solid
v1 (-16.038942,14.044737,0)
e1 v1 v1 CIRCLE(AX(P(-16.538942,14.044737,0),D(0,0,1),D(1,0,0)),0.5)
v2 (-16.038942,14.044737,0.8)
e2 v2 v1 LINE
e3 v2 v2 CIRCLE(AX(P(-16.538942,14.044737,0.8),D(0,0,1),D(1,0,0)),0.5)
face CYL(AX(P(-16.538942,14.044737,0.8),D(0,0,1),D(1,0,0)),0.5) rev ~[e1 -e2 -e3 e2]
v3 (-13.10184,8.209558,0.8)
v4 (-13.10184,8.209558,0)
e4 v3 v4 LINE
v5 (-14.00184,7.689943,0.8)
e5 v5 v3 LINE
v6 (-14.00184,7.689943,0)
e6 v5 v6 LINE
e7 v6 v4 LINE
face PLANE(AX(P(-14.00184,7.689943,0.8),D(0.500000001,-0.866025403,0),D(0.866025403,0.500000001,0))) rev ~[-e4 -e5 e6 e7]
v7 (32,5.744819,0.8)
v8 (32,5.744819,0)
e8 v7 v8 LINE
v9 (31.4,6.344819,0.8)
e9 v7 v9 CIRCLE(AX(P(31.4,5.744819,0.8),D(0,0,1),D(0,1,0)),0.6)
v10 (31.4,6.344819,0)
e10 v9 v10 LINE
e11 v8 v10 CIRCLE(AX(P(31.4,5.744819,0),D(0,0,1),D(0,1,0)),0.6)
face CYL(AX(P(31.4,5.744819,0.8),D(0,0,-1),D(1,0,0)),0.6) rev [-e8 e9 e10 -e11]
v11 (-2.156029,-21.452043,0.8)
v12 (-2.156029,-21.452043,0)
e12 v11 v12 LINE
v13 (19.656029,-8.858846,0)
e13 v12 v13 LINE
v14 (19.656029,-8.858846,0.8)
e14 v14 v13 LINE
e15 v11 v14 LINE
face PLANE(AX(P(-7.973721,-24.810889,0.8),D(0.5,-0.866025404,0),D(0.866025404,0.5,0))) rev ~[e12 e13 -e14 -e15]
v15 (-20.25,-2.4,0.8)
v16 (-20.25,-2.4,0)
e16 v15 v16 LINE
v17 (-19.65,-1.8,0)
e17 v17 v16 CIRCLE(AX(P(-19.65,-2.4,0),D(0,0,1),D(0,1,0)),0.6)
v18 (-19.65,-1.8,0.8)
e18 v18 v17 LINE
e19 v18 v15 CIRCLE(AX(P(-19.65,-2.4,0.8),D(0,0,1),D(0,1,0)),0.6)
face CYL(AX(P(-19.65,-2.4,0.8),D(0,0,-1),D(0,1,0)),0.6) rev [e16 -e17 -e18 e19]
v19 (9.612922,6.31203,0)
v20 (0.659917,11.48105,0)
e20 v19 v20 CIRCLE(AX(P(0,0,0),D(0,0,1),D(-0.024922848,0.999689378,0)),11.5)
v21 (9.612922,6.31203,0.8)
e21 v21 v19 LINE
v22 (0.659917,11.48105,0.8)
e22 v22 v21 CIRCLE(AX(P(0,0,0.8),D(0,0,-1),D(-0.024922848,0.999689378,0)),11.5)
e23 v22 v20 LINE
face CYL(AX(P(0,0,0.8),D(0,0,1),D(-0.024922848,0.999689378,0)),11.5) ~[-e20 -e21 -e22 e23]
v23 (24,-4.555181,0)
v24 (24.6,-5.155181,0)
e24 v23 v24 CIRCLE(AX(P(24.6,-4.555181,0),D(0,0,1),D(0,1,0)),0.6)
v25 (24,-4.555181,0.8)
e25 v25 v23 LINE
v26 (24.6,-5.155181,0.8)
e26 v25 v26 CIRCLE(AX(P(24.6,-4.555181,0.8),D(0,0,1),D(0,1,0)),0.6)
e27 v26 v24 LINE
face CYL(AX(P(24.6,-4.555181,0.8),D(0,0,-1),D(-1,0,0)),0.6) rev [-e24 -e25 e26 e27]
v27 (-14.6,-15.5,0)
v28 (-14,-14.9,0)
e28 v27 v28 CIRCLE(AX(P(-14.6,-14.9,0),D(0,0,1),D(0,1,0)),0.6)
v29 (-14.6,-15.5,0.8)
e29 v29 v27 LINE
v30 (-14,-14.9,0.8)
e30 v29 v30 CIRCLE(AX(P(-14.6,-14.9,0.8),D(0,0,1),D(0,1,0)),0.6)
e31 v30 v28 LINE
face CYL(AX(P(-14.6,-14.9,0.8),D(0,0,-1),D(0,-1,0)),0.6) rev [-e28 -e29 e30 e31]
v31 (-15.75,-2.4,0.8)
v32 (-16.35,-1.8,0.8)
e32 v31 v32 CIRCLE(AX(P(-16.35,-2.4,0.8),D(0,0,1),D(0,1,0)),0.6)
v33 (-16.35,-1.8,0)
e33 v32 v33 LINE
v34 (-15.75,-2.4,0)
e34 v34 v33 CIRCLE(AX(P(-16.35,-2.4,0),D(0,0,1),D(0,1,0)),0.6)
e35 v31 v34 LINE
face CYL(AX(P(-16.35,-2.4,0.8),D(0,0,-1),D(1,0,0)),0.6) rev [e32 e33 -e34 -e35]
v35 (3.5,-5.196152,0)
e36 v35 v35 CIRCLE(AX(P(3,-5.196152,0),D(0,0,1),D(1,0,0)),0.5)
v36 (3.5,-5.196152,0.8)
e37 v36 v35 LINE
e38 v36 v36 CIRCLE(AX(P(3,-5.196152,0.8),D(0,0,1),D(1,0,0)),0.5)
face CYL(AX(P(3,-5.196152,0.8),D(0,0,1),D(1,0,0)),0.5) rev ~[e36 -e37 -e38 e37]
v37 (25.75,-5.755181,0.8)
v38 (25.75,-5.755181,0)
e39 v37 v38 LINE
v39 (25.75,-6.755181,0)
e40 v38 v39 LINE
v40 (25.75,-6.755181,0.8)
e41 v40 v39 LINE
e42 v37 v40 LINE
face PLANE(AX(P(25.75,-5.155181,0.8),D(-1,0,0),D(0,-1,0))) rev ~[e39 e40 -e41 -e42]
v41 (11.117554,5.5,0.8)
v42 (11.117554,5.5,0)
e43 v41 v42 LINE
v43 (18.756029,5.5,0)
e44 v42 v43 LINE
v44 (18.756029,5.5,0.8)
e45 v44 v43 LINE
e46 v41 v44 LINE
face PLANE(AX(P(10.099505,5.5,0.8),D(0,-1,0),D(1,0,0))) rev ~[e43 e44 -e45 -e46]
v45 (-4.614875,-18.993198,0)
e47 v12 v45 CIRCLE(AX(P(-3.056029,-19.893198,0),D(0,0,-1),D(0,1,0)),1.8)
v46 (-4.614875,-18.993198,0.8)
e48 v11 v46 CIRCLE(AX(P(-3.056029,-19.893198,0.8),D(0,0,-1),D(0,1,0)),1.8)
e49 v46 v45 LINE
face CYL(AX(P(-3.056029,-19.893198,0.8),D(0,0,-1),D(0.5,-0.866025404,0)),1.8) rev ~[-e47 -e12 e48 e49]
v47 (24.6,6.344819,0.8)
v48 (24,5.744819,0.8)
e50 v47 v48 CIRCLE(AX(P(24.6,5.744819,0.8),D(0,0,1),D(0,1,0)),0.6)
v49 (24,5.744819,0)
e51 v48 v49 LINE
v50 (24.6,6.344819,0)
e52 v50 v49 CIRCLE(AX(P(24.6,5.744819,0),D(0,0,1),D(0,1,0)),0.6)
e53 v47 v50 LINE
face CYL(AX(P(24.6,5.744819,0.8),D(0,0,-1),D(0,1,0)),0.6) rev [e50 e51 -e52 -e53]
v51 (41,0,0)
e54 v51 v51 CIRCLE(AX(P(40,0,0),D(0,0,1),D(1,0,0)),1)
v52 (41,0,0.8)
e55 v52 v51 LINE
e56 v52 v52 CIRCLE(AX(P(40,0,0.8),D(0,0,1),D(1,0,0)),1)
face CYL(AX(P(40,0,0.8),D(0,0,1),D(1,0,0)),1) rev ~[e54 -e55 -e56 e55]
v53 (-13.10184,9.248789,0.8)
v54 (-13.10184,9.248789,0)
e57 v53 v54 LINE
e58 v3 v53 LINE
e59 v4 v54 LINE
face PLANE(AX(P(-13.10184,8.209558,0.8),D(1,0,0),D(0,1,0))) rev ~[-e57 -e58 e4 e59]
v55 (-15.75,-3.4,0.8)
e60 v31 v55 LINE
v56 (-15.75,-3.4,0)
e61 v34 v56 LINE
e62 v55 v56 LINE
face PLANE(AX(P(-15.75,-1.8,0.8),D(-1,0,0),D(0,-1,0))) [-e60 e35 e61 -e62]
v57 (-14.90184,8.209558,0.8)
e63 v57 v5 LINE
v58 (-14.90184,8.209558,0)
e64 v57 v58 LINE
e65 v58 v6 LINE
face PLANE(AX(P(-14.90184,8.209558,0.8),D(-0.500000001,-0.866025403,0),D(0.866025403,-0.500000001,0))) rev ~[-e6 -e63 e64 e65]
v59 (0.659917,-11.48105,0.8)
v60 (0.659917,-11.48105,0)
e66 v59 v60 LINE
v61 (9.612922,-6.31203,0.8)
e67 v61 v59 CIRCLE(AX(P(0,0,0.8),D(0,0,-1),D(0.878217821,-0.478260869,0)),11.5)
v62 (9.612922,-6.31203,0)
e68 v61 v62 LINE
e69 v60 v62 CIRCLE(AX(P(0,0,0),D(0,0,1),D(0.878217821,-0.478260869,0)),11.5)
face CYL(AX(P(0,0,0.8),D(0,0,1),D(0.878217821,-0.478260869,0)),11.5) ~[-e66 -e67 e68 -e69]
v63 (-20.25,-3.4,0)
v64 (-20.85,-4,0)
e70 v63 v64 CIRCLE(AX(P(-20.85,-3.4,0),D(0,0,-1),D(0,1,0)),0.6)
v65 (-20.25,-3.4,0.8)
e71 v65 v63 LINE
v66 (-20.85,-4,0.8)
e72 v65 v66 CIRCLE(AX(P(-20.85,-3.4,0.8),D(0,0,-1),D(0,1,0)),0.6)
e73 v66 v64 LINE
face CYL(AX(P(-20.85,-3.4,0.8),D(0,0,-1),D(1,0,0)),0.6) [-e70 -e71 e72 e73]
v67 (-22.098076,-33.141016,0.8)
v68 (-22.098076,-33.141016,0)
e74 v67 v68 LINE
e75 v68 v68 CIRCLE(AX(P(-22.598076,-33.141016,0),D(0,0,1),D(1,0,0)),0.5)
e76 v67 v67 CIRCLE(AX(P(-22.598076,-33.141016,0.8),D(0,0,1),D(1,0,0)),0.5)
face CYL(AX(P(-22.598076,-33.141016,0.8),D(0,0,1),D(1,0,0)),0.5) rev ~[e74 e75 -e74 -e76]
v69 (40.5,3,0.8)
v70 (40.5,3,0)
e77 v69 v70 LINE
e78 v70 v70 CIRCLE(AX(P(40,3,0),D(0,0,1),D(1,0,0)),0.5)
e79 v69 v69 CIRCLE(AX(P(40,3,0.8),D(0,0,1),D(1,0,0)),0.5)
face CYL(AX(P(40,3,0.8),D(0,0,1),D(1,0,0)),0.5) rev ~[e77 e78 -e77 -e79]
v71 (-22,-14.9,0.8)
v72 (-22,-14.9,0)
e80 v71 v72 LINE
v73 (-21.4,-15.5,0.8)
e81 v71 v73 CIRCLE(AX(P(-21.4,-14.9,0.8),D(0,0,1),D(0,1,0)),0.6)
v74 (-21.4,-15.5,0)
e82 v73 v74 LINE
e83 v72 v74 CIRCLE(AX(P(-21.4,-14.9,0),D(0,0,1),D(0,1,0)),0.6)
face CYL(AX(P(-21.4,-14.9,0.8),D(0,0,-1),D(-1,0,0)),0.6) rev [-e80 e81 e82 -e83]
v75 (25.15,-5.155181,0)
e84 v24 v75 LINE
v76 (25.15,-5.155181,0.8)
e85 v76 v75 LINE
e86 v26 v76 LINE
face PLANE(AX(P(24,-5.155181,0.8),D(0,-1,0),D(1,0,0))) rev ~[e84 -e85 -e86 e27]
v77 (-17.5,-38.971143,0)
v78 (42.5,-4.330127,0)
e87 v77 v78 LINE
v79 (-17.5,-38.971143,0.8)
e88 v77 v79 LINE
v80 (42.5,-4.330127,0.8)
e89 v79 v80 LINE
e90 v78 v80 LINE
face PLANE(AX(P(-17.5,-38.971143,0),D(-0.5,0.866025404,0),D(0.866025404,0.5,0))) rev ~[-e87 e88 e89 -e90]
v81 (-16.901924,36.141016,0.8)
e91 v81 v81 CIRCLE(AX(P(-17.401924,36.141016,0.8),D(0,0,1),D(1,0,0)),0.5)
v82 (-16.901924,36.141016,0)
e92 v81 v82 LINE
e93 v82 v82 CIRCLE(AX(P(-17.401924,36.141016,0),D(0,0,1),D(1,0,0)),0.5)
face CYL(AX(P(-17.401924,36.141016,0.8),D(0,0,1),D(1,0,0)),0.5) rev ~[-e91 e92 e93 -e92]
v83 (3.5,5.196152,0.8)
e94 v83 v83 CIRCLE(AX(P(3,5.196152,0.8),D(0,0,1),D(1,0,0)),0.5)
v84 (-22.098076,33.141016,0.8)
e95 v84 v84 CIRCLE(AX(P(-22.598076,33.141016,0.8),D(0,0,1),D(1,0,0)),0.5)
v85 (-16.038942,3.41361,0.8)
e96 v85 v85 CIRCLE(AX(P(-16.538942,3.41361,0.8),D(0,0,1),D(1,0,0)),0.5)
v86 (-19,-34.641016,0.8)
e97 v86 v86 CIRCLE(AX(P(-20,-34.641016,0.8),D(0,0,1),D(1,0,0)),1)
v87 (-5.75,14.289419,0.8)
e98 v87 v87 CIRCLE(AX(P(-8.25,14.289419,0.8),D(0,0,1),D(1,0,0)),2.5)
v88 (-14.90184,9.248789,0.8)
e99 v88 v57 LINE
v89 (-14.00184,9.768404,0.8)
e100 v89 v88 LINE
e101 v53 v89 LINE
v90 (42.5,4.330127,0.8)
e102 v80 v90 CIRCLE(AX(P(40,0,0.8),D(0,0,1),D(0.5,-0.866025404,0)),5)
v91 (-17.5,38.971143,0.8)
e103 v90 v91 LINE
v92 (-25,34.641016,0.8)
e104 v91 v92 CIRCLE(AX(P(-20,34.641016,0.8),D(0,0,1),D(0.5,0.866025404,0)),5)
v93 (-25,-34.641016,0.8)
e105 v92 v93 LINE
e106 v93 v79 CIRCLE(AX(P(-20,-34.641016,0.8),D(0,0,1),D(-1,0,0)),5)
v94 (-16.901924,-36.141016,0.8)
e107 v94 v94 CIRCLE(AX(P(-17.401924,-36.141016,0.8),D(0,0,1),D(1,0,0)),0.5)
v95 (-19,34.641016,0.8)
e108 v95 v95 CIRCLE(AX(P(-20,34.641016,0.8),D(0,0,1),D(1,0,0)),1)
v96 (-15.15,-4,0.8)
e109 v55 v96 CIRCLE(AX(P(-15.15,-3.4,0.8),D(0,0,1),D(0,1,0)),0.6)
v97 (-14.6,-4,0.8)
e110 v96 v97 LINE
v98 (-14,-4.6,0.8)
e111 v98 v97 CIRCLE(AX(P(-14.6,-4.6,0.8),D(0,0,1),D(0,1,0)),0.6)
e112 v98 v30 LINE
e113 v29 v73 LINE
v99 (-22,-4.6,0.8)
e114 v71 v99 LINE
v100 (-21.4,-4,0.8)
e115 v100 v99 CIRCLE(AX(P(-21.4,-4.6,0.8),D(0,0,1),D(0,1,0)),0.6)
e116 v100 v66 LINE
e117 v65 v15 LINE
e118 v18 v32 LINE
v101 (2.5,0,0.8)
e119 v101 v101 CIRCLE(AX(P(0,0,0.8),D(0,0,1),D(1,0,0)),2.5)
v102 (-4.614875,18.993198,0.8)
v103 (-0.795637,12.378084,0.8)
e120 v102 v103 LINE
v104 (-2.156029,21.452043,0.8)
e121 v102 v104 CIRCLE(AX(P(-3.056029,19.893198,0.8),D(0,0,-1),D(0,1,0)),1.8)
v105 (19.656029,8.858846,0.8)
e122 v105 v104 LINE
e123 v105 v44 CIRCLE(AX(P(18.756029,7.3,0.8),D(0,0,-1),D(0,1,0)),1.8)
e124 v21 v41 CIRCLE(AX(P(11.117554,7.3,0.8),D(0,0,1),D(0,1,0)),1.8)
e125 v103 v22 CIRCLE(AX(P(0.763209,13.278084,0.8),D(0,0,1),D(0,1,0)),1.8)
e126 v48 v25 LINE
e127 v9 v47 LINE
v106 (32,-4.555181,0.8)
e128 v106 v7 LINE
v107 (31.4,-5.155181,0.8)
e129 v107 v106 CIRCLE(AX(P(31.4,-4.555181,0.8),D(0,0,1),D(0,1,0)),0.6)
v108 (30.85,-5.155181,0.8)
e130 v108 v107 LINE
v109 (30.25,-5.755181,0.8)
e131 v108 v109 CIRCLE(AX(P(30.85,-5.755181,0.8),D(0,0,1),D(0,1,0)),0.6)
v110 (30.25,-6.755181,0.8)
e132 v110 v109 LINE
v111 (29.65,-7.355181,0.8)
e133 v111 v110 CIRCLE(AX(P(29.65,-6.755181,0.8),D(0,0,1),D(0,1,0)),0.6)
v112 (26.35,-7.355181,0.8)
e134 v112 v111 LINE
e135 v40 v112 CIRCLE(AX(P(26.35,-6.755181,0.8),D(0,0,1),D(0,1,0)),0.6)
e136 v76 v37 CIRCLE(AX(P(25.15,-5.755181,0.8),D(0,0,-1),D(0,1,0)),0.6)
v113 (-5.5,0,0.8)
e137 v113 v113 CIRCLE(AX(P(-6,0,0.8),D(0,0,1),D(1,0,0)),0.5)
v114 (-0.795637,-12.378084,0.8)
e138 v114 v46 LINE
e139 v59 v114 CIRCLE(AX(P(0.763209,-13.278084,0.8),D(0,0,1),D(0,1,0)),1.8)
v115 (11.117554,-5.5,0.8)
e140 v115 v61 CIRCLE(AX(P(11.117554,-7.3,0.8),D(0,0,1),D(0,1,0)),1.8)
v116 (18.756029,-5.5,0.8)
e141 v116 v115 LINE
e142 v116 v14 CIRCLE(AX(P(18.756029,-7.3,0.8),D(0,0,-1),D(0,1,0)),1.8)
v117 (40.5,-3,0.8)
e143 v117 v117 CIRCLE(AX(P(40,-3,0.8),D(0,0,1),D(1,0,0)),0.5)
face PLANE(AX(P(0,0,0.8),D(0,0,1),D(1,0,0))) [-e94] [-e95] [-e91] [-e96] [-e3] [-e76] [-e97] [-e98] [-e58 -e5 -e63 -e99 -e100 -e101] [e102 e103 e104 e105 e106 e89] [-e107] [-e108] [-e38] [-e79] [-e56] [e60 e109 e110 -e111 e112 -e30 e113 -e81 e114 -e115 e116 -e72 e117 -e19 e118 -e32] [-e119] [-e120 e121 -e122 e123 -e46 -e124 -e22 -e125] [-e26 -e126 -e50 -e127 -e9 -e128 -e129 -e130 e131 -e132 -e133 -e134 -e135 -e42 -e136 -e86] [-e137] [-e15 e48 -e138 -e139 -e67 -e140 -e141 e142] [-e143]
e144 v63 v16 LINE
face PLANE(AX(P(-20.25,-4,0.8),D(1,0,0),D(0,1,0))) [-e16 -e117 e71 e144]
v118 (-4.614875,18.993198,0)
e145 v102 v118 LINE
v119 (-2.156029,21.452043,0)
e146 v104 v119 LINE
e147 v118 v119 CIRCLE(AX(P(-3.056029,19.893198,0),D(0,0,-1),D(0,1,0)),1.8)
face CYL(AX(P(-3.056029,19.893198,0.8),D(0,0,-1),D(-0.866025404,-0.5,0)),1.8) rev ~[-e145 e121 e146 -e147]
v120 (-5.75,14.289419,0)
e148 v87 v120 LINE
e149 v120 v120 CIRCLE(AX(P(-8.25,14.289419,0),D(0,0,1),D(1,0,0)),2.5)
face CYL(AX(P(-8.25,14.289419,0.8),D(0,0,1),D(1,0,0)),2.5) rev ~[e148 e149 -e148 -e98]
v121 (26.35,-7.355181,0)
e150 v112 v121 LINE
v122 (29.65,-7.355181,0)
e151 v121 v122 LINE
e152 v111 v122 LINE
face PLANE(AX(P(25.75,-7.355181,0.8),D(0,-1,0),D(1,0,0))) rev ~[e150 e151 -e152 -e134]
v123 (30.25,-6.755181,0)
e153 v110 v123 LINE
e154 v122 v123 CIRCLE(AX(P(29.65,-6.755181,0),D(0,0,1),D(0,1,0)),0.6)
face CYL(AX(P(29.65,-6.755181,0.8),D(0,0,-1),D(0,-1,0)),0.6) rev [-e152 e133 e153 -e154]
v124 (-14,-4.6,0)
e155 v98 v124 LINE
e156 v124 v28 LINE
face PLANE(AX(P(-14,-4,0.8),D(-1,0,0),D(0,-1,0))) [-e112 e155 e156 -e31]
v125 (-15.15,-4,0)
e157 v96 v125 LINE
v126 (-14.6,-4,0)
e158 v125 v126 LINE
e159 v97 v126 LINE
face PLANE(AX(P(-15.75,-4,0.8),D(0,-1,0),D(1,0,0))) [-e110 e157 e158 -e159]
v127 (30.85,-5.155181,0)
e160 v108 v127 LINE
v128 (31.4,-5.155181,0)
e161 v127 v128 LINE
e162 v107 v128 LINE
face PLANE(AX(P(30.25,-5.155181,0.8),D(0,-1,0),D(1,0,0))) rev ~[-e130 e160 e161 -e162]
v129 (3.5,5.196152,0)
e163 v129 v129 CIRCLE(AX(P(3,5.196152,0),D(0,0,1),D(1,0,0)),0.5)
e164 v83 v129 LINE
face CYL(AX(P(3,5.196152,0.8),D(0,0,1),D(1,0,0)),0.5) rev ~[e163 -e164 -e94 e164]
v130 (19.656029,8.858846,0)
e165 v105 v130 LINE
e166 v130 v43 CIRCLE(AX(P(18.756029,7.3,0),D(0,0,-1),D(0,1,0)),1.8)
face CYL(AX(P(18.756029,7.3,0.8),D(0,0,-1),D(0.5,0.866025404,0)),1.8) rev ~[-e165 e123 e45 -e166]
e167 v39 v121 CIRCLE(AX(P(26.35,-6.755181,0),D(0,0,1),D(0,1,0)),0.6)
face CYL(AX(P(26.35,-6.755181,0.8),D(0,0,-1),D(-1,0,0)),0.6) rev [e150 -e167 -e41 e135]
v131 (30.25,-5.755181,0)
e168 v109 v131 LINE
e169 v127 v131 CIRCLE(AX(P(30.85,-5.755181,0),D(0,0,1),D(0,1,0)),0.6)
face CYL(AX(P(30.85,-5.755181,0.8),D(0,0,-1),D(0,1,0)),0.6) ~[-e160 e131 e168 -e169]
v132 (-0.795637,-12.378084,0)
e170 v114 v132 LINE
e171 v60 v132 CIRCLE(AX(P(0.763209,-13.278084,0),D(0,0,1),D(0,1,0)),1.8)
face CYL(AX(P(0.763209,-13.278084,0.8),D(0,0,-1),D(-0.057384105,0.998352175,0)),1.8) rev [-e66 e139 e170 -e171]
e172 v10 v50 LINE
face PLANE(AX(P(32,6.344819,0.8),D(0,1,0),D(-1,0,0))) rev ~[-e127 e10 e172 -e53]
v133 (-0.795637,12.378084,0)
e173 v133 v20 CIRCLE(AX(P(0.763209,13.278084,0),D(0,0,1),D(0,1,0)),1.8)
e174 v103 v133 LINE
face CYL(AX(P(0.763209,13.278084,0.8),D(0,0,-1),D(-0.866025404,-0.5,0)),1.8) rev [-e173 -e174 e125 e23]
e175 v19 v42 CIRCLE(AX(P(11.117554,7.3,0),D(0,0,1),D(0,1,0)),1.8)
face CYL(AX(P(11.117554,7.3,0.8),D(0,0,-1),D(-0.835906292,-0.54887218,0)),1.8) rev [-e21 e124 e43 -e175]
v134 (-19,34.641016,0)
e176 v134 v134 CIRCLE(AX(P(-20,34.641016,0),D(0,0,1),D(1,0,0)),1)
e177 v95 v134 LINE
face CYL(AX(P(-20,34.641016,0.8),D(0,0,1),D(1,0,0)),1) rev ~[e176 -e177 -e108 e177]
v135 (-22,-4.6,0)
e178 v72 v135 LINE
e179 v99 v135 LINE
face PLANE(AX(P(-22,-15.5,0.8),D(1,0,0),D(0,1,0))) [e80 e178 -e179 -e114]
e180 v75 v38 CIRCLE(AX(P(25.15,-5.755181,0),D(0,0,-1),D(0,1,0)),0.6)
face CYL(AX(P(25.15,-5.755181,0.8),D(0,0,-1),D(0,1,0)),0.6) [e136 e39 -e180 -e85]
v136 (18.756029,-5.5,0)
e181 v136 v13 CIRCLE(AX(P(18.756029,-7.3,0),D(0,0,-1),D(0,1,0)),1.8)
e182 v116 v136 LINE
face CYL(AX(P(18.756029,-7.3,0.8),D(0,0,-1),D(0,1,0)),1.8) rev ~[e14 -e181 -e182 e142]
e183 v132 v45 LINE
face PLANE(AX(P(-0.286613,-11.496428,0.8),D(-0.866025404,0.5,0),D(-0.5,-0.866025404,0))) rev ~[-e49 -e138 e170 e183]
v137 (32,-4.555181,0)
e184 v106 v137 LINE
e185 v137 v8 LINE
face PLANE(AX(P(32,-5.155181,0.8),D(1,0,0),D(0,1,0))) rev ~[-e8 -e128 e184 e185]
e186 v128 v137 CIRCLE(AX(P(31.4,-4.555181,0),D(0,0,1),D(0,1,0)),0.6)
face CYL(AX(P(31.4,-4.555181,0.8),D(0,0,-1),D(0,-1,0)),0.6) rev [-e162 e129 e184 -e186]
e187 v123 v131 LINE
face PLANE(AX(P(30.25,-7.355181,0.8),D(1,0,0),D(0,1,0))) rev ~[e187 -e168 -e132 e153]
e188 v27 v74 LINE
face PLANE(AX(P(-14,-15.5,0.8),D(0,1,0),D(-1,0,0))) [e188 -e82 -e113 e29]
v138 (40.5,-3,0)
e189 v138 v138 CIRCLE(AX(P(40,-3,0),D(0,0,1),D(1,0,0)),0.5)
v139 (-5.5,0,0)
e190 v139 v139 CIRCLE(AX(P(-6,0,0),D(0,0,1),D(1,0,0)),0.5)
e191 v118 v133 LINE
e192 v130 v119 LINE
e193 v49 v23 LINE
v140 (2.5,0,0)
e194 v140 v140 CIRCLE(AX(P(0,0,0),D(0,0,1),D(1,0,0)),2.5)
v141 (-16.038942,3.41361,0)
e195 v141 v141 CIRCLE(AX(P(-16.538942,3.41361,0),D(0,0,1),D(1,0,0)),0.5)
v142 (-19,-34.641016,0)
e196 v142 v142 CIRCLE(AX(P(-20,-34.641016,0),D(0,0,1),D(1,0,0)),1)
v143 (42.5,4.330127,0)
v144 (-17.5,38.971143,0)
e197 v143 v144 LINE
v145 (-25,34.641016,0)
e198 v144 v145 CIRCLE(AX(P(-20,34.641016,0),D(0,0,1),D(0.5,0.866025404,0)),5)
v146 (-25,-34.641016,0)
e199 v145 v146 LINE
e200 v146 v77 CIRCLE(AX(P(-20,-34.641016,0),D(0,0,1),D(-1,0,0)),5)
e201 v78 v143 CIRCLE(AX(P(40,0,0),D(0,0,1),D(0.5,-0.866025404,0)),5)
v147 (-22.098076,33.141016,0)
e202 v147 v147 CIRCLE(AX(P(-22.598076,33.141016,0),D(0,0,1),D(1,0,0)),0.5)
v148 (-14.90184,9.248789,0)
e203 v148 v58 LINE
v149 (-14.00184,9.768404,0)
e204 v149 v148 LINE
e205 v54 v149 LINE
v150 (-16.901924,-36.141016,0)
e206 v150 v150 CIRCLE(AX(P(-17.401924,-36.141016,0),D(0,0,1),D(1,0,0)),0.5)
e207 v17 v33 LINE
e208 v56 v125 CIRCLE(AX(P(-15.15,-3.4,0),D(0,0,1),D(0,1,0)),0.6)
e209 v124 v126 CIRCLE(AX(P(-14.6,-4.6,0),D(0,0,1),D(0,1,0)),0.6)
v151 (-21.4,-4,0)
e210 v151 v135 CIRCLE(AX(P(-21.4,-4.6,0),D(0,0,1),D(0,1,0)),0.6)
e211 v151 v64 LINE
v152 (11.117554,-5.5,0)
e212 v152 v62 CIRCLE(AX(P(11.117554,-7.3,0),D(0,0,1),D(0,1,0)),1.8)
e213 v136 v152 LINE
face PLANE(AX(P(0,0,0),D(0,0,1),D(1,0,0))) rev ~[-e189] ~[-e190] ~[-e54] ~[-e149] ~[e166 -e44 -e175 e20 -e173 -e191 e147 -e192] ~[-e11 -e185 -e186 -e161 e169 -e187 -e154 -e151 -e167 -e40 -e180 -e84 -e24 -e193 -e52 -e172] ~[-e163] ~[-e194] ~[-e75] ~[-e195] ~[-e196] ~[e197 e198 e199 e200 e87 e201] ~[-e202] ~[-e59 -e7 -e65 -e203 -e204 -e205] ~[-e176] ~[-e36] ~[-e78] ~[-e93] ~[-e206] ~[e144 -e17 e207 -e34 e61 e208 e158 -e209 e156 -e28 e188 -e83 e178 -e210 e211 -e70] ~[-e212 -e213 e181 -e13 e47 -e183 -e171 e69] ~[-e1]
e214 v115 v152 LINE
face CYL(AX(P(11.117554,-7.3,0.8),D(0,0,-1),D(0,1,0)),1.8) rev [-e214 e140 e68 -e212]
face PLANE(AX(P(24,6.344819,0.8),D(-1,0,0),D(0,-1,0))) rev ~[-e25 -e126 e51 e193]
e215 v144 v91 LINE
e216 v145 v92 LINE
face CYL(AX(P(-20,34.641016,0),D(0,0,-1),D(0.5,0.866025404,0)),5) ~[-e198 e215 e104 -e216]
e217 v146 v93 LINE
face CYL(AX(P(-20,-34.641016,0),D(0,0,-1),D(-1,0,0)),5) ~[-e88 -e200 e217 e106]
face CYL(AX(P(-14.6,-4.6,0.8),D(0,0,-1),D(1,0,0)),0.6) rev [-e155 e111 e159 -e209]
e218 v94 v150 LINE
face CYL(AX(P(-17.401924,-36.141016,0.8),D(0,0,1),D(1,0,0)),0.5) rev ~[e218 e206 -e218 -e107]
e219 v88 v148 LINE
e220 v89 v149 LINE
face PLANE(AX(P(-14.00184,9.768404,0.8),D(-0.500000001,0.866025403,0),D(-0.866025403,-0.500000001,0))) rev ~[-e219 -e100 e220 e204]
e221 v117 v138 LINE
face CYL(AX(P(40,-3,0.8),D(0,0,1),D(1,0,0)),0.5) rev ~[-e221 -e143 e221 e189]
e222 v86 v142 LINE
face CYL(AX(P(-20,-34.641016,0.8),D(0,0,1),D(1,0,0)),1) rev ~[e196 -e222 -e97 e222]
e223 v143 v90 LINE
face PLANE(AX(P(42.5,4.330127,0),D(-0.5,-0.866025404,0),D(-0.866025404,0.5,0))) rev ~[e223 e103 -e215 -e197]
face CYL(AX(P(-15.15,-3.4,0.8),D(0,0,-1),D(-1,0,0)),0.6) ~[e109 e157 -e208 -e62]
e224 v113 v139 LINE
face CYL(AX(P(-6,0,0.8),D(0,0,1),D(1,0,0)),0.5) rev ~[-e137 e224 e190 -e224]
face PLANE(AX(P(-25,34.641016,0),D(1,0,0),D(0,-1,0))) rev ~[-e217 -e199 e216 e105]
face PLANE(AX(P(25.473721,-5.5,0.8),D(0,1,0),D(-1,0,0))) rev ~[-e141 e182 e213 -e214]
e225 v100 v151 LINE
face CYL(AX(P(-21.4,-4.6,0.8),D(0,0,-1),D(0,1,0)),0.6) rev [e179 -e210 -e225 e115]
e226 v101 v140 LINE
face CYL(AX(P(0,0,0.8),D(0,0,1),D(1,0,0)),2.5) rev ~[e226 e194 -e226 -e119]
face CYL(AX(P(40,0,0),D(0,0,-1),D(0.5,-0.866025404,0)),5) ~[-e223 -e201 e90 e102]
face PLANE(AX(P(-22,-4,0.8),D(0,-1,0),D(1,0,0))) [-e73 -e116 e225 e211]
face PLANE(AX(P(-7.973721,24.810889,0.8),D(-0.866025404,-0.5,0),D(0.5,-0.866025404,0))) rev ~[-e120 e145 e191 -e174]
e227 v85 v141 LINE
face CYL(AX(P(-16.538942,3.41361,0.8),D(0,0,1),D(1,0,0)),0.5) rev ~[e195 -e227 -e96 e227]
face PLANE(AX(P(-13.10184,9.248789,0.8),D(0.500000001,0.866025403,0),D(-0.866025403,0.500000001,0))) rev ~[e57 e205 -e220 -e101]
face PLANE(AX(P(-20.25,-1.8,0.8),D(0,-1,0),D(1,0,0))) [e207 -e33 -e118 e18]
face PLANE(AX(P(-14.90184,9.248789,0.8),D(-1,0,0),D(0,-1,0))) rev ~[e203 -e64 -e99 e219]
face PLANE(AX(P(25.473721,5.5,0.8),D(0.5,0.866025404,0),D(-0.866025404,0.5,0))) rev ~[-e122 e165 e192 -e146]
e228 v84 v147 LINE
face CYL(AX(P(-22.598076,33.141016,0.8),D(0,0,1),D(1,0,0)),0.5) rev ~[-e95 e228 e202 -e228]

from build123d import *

# Parameters (mm, degrees)
BOARD_DEPTH    = 0.8
CUT_DEPTH      = 60.975412975
HOLESSKE_R     = 0.5
HOLESSKE_R_2   = 2.5
HOLES_DEPTH    = 60.975412975
HOLES2SKE_R    = 1
HOLES2_DEPTH   = 60.975412975
HOLES3SKE_R    = 0.5
HOLES3_DEPTH   = 60.975412975
HOLES4SKE_R    = 2.5
HOLES4SKE_R_2  = 0.5
HOLES4_DEPTH   = 60.975412975
FILLET1_R      = 1.8
SERVOSET_DEPTH = 10
FILLET2_R      = 0.6


with BuildPart() as part:
    # BoardSke → Board (new body)
    with BuildSketch(Plane.XY):
        with BuildLine():
            Line((42.5, 4.330127019), (-17.5, 38.97114317))
            ThreePointArc((-17.5, 38.97114317), (-22.5, 38.97114317), (-25, 34.641016151))
            Line((-25, 34.641016151), (-25, -34.641016151))
            ThreePointArc((-25, -34.641016151), (-22.5, -38.97114317), (-17.5, -38.97114317))
            Line((-17.5, -38.97114317), (42.5, -4.330127019))
            ThreePointArc((42.5, -4.330127019), (45, 0), (42.5, 4.330127019))
        make_face()
    extrude(amount=BOARD_DEPTH)

    # CutSke → Cut (cut, through all)
    with BuildSketch(Plane.XY.offset(0.8)):
        with BuildLine():
            Line((-7.973720558, 24.810889132), (-0.286612748, 11.496427842))
            ThreePointArc((-0.286612748, 11.496427842), (5.75, 9.959292144), (10.099504938, 5.5))
            Line((10.099504938, 5.5), (25.473720558, 5.5))
            Line((25.473720558, 5.5), (-7.973720558, 24.810889132))
        make_face()
        with BuildLine():
            Line((25.473720558, -5.5), (10.099504938, -5.5))
            ThreePointArc((10.099504938, -5.5), (5.75, -9.959292144), (-0.286612748, -11.496427842))
            Line((-0.286612748, -11.496427842), (-7.973720558, -24.810889132))
            Line((-7.973720558, -24.810889132), (25.473720558, -5.5))
        make_face()
    extrude(amount=-CUT_DEPTH, mode=Mode.SUBTRACT)

    # HolesSke → Holes (cut, through all)
    with BuildSketch(Plane.XY.offset(0.8)):
        with Locations((-6, 0)):
            Circle(HOLESSKE_R)
        with Locations((3, 5.196152423)):
            Circle(HOLESSKE_R)
        with Locations((3, -5.196152423)):
            Circle(HOLESSKE_R)
        Circle(HOLESSKE_R_2)
    extrude(amount=-HOLES_DEPTH, mode=Mode.SUBTRACT)

    # Holes2Ske → Holes2 (cut, through all)
    with BuildSketch(Plane.XY.offset(0.8)):
        with Locations((40, 0)):
            Circle(HOLES2SKE_R)
        with Locations((-20, -34.641016151)):
            Circle(HOLES2SKE_R)
        with Locations((-20, 34.641016151)):
            Circle(HOLES2SKE_R)
    extrude(amount=-HOLES2_DEPTH, mode=Mode.SUBTRACT)

    # Holes3Ske → Holes3 (cut, through all)
    with BuildSketch(Plane.XY.offset(0.8)):
        with Locations((40, 3)):
            Circle(HOLES3SKE_R)
        with Locations((40, -3)):
            Circle(HOLES3SKE_R)
        with Locations((-22.598076211, -33.141016151)):
            Circle(HOLES3SKE_R)
        with Locations((-17.401923789, -36.141016151)):
            Circle(HOLES3SKE_R)
        with Locations((-17.401923789, 36.141016151)):
            Circle(HOLES3SKE_R)
        with Locations((-22.598076211, 33.141016151)):
            Circle(HOLES3SKE_R)
    extrude(amount=-HOLES3_DEPTH, mode=Mode.SUBTRACT)

    # Holes4Ske → Holes4 (cut, through all)
    with BuildSketch(Plane.XY.offset(0.8)):
        with Locations((-8.25, 14.289419162)):
            Circle(HOLES4SKE_R)
        with Locations((-16.538942365, 14.044736682)):
            Circle(HOLES4SKE_R_2)
        with Locations((-16.538942365, 3.413610092)):
            Circle(HOLES4SKE_R_2)
        Polygon((-13.101840307, 8.209558145), (-13.101840307, 9.248788629), (-14.001840307, 9.768403872), (-14.901840307, 9.248788629), (-14.901840307, 8.209558145), (-14.001840307, 7.689942902), align=None)
    extrude(amount=-HOLES4_DEPTH, mode=Mode.SUBTRACT)

    # Fillet1
    fillet1_edges = [part.edges().sort_by_distance(p)[0] for p in [
        (25.473720558, 5.5, 0.4),
        (10.099504938, 5.5, 0.4),
        (-0.286612748, 11.496427842, 0.4),
        (-7.973720558, 24.810889132, 0.4),
        (25.473720558, -5.5, 0.4),
        (-7.973720558, -24.810889132, 0.4),
        (-0.286612748, -11.496427842, 0.4),
        (10.099504938, -5.5, 0.4),
    ]]
    fillet(fillet1_edges, radius=FILLET1_R)

    # ServoSetSke → ServoSet (cut)
    with BuildSketch(Plane.XY.offset(0.8)):
        Polygon((30.25, -5.155181486), (32, -5.155181486), (32, 6.344818514), (24, 6.344818514), (24, -5.155181486), (25.75, -5.155181486), (25.75, -7.355181486), (30.25, -7.355181486), align=None)
        Polygon((-15.75, -4), (-14, -4), (-14, -15.5), (-22, -15.5), (-22, -4), (-20.25, -4), (-20.25, -1.8), (-15.75, -1.8), align=None)
    extrude(amount=-SERVOSET_DEPTH, mode=Mode.SUBTRACT)

    # Fillet2
    fillet2_edges = [part.edges().sort_by_distance(p)[0] for p in [
        (32, 6.344818514, 0.4),
        (32, -5.155181486, 0.4),
        (30.25, -5.155181486, 0.4),
        (30.25, -7.355181486, 0.4),
        (25.75, -7.355181486, 0.4),
        (25.75, -5.155181486, 0.4),
        (24, -5.155181486, 0.4),
        (24, 6.344818514, 0.4),
        (-14, -4, 0.4),
        (-14, -15.5, 0.4),
        (-22, -15.5, 0.4),
        (-22, -4, 0.4),
        (-20.25, -4, 0.4),
        (-20.25, -1.8, 0.4),
        (-15.75, -1.8, 0.4),
        (-15.75, -4, 0.4),
    ]]
    fillet(fillet2_edges, radius=FILLET2_R)


solid = part.part
